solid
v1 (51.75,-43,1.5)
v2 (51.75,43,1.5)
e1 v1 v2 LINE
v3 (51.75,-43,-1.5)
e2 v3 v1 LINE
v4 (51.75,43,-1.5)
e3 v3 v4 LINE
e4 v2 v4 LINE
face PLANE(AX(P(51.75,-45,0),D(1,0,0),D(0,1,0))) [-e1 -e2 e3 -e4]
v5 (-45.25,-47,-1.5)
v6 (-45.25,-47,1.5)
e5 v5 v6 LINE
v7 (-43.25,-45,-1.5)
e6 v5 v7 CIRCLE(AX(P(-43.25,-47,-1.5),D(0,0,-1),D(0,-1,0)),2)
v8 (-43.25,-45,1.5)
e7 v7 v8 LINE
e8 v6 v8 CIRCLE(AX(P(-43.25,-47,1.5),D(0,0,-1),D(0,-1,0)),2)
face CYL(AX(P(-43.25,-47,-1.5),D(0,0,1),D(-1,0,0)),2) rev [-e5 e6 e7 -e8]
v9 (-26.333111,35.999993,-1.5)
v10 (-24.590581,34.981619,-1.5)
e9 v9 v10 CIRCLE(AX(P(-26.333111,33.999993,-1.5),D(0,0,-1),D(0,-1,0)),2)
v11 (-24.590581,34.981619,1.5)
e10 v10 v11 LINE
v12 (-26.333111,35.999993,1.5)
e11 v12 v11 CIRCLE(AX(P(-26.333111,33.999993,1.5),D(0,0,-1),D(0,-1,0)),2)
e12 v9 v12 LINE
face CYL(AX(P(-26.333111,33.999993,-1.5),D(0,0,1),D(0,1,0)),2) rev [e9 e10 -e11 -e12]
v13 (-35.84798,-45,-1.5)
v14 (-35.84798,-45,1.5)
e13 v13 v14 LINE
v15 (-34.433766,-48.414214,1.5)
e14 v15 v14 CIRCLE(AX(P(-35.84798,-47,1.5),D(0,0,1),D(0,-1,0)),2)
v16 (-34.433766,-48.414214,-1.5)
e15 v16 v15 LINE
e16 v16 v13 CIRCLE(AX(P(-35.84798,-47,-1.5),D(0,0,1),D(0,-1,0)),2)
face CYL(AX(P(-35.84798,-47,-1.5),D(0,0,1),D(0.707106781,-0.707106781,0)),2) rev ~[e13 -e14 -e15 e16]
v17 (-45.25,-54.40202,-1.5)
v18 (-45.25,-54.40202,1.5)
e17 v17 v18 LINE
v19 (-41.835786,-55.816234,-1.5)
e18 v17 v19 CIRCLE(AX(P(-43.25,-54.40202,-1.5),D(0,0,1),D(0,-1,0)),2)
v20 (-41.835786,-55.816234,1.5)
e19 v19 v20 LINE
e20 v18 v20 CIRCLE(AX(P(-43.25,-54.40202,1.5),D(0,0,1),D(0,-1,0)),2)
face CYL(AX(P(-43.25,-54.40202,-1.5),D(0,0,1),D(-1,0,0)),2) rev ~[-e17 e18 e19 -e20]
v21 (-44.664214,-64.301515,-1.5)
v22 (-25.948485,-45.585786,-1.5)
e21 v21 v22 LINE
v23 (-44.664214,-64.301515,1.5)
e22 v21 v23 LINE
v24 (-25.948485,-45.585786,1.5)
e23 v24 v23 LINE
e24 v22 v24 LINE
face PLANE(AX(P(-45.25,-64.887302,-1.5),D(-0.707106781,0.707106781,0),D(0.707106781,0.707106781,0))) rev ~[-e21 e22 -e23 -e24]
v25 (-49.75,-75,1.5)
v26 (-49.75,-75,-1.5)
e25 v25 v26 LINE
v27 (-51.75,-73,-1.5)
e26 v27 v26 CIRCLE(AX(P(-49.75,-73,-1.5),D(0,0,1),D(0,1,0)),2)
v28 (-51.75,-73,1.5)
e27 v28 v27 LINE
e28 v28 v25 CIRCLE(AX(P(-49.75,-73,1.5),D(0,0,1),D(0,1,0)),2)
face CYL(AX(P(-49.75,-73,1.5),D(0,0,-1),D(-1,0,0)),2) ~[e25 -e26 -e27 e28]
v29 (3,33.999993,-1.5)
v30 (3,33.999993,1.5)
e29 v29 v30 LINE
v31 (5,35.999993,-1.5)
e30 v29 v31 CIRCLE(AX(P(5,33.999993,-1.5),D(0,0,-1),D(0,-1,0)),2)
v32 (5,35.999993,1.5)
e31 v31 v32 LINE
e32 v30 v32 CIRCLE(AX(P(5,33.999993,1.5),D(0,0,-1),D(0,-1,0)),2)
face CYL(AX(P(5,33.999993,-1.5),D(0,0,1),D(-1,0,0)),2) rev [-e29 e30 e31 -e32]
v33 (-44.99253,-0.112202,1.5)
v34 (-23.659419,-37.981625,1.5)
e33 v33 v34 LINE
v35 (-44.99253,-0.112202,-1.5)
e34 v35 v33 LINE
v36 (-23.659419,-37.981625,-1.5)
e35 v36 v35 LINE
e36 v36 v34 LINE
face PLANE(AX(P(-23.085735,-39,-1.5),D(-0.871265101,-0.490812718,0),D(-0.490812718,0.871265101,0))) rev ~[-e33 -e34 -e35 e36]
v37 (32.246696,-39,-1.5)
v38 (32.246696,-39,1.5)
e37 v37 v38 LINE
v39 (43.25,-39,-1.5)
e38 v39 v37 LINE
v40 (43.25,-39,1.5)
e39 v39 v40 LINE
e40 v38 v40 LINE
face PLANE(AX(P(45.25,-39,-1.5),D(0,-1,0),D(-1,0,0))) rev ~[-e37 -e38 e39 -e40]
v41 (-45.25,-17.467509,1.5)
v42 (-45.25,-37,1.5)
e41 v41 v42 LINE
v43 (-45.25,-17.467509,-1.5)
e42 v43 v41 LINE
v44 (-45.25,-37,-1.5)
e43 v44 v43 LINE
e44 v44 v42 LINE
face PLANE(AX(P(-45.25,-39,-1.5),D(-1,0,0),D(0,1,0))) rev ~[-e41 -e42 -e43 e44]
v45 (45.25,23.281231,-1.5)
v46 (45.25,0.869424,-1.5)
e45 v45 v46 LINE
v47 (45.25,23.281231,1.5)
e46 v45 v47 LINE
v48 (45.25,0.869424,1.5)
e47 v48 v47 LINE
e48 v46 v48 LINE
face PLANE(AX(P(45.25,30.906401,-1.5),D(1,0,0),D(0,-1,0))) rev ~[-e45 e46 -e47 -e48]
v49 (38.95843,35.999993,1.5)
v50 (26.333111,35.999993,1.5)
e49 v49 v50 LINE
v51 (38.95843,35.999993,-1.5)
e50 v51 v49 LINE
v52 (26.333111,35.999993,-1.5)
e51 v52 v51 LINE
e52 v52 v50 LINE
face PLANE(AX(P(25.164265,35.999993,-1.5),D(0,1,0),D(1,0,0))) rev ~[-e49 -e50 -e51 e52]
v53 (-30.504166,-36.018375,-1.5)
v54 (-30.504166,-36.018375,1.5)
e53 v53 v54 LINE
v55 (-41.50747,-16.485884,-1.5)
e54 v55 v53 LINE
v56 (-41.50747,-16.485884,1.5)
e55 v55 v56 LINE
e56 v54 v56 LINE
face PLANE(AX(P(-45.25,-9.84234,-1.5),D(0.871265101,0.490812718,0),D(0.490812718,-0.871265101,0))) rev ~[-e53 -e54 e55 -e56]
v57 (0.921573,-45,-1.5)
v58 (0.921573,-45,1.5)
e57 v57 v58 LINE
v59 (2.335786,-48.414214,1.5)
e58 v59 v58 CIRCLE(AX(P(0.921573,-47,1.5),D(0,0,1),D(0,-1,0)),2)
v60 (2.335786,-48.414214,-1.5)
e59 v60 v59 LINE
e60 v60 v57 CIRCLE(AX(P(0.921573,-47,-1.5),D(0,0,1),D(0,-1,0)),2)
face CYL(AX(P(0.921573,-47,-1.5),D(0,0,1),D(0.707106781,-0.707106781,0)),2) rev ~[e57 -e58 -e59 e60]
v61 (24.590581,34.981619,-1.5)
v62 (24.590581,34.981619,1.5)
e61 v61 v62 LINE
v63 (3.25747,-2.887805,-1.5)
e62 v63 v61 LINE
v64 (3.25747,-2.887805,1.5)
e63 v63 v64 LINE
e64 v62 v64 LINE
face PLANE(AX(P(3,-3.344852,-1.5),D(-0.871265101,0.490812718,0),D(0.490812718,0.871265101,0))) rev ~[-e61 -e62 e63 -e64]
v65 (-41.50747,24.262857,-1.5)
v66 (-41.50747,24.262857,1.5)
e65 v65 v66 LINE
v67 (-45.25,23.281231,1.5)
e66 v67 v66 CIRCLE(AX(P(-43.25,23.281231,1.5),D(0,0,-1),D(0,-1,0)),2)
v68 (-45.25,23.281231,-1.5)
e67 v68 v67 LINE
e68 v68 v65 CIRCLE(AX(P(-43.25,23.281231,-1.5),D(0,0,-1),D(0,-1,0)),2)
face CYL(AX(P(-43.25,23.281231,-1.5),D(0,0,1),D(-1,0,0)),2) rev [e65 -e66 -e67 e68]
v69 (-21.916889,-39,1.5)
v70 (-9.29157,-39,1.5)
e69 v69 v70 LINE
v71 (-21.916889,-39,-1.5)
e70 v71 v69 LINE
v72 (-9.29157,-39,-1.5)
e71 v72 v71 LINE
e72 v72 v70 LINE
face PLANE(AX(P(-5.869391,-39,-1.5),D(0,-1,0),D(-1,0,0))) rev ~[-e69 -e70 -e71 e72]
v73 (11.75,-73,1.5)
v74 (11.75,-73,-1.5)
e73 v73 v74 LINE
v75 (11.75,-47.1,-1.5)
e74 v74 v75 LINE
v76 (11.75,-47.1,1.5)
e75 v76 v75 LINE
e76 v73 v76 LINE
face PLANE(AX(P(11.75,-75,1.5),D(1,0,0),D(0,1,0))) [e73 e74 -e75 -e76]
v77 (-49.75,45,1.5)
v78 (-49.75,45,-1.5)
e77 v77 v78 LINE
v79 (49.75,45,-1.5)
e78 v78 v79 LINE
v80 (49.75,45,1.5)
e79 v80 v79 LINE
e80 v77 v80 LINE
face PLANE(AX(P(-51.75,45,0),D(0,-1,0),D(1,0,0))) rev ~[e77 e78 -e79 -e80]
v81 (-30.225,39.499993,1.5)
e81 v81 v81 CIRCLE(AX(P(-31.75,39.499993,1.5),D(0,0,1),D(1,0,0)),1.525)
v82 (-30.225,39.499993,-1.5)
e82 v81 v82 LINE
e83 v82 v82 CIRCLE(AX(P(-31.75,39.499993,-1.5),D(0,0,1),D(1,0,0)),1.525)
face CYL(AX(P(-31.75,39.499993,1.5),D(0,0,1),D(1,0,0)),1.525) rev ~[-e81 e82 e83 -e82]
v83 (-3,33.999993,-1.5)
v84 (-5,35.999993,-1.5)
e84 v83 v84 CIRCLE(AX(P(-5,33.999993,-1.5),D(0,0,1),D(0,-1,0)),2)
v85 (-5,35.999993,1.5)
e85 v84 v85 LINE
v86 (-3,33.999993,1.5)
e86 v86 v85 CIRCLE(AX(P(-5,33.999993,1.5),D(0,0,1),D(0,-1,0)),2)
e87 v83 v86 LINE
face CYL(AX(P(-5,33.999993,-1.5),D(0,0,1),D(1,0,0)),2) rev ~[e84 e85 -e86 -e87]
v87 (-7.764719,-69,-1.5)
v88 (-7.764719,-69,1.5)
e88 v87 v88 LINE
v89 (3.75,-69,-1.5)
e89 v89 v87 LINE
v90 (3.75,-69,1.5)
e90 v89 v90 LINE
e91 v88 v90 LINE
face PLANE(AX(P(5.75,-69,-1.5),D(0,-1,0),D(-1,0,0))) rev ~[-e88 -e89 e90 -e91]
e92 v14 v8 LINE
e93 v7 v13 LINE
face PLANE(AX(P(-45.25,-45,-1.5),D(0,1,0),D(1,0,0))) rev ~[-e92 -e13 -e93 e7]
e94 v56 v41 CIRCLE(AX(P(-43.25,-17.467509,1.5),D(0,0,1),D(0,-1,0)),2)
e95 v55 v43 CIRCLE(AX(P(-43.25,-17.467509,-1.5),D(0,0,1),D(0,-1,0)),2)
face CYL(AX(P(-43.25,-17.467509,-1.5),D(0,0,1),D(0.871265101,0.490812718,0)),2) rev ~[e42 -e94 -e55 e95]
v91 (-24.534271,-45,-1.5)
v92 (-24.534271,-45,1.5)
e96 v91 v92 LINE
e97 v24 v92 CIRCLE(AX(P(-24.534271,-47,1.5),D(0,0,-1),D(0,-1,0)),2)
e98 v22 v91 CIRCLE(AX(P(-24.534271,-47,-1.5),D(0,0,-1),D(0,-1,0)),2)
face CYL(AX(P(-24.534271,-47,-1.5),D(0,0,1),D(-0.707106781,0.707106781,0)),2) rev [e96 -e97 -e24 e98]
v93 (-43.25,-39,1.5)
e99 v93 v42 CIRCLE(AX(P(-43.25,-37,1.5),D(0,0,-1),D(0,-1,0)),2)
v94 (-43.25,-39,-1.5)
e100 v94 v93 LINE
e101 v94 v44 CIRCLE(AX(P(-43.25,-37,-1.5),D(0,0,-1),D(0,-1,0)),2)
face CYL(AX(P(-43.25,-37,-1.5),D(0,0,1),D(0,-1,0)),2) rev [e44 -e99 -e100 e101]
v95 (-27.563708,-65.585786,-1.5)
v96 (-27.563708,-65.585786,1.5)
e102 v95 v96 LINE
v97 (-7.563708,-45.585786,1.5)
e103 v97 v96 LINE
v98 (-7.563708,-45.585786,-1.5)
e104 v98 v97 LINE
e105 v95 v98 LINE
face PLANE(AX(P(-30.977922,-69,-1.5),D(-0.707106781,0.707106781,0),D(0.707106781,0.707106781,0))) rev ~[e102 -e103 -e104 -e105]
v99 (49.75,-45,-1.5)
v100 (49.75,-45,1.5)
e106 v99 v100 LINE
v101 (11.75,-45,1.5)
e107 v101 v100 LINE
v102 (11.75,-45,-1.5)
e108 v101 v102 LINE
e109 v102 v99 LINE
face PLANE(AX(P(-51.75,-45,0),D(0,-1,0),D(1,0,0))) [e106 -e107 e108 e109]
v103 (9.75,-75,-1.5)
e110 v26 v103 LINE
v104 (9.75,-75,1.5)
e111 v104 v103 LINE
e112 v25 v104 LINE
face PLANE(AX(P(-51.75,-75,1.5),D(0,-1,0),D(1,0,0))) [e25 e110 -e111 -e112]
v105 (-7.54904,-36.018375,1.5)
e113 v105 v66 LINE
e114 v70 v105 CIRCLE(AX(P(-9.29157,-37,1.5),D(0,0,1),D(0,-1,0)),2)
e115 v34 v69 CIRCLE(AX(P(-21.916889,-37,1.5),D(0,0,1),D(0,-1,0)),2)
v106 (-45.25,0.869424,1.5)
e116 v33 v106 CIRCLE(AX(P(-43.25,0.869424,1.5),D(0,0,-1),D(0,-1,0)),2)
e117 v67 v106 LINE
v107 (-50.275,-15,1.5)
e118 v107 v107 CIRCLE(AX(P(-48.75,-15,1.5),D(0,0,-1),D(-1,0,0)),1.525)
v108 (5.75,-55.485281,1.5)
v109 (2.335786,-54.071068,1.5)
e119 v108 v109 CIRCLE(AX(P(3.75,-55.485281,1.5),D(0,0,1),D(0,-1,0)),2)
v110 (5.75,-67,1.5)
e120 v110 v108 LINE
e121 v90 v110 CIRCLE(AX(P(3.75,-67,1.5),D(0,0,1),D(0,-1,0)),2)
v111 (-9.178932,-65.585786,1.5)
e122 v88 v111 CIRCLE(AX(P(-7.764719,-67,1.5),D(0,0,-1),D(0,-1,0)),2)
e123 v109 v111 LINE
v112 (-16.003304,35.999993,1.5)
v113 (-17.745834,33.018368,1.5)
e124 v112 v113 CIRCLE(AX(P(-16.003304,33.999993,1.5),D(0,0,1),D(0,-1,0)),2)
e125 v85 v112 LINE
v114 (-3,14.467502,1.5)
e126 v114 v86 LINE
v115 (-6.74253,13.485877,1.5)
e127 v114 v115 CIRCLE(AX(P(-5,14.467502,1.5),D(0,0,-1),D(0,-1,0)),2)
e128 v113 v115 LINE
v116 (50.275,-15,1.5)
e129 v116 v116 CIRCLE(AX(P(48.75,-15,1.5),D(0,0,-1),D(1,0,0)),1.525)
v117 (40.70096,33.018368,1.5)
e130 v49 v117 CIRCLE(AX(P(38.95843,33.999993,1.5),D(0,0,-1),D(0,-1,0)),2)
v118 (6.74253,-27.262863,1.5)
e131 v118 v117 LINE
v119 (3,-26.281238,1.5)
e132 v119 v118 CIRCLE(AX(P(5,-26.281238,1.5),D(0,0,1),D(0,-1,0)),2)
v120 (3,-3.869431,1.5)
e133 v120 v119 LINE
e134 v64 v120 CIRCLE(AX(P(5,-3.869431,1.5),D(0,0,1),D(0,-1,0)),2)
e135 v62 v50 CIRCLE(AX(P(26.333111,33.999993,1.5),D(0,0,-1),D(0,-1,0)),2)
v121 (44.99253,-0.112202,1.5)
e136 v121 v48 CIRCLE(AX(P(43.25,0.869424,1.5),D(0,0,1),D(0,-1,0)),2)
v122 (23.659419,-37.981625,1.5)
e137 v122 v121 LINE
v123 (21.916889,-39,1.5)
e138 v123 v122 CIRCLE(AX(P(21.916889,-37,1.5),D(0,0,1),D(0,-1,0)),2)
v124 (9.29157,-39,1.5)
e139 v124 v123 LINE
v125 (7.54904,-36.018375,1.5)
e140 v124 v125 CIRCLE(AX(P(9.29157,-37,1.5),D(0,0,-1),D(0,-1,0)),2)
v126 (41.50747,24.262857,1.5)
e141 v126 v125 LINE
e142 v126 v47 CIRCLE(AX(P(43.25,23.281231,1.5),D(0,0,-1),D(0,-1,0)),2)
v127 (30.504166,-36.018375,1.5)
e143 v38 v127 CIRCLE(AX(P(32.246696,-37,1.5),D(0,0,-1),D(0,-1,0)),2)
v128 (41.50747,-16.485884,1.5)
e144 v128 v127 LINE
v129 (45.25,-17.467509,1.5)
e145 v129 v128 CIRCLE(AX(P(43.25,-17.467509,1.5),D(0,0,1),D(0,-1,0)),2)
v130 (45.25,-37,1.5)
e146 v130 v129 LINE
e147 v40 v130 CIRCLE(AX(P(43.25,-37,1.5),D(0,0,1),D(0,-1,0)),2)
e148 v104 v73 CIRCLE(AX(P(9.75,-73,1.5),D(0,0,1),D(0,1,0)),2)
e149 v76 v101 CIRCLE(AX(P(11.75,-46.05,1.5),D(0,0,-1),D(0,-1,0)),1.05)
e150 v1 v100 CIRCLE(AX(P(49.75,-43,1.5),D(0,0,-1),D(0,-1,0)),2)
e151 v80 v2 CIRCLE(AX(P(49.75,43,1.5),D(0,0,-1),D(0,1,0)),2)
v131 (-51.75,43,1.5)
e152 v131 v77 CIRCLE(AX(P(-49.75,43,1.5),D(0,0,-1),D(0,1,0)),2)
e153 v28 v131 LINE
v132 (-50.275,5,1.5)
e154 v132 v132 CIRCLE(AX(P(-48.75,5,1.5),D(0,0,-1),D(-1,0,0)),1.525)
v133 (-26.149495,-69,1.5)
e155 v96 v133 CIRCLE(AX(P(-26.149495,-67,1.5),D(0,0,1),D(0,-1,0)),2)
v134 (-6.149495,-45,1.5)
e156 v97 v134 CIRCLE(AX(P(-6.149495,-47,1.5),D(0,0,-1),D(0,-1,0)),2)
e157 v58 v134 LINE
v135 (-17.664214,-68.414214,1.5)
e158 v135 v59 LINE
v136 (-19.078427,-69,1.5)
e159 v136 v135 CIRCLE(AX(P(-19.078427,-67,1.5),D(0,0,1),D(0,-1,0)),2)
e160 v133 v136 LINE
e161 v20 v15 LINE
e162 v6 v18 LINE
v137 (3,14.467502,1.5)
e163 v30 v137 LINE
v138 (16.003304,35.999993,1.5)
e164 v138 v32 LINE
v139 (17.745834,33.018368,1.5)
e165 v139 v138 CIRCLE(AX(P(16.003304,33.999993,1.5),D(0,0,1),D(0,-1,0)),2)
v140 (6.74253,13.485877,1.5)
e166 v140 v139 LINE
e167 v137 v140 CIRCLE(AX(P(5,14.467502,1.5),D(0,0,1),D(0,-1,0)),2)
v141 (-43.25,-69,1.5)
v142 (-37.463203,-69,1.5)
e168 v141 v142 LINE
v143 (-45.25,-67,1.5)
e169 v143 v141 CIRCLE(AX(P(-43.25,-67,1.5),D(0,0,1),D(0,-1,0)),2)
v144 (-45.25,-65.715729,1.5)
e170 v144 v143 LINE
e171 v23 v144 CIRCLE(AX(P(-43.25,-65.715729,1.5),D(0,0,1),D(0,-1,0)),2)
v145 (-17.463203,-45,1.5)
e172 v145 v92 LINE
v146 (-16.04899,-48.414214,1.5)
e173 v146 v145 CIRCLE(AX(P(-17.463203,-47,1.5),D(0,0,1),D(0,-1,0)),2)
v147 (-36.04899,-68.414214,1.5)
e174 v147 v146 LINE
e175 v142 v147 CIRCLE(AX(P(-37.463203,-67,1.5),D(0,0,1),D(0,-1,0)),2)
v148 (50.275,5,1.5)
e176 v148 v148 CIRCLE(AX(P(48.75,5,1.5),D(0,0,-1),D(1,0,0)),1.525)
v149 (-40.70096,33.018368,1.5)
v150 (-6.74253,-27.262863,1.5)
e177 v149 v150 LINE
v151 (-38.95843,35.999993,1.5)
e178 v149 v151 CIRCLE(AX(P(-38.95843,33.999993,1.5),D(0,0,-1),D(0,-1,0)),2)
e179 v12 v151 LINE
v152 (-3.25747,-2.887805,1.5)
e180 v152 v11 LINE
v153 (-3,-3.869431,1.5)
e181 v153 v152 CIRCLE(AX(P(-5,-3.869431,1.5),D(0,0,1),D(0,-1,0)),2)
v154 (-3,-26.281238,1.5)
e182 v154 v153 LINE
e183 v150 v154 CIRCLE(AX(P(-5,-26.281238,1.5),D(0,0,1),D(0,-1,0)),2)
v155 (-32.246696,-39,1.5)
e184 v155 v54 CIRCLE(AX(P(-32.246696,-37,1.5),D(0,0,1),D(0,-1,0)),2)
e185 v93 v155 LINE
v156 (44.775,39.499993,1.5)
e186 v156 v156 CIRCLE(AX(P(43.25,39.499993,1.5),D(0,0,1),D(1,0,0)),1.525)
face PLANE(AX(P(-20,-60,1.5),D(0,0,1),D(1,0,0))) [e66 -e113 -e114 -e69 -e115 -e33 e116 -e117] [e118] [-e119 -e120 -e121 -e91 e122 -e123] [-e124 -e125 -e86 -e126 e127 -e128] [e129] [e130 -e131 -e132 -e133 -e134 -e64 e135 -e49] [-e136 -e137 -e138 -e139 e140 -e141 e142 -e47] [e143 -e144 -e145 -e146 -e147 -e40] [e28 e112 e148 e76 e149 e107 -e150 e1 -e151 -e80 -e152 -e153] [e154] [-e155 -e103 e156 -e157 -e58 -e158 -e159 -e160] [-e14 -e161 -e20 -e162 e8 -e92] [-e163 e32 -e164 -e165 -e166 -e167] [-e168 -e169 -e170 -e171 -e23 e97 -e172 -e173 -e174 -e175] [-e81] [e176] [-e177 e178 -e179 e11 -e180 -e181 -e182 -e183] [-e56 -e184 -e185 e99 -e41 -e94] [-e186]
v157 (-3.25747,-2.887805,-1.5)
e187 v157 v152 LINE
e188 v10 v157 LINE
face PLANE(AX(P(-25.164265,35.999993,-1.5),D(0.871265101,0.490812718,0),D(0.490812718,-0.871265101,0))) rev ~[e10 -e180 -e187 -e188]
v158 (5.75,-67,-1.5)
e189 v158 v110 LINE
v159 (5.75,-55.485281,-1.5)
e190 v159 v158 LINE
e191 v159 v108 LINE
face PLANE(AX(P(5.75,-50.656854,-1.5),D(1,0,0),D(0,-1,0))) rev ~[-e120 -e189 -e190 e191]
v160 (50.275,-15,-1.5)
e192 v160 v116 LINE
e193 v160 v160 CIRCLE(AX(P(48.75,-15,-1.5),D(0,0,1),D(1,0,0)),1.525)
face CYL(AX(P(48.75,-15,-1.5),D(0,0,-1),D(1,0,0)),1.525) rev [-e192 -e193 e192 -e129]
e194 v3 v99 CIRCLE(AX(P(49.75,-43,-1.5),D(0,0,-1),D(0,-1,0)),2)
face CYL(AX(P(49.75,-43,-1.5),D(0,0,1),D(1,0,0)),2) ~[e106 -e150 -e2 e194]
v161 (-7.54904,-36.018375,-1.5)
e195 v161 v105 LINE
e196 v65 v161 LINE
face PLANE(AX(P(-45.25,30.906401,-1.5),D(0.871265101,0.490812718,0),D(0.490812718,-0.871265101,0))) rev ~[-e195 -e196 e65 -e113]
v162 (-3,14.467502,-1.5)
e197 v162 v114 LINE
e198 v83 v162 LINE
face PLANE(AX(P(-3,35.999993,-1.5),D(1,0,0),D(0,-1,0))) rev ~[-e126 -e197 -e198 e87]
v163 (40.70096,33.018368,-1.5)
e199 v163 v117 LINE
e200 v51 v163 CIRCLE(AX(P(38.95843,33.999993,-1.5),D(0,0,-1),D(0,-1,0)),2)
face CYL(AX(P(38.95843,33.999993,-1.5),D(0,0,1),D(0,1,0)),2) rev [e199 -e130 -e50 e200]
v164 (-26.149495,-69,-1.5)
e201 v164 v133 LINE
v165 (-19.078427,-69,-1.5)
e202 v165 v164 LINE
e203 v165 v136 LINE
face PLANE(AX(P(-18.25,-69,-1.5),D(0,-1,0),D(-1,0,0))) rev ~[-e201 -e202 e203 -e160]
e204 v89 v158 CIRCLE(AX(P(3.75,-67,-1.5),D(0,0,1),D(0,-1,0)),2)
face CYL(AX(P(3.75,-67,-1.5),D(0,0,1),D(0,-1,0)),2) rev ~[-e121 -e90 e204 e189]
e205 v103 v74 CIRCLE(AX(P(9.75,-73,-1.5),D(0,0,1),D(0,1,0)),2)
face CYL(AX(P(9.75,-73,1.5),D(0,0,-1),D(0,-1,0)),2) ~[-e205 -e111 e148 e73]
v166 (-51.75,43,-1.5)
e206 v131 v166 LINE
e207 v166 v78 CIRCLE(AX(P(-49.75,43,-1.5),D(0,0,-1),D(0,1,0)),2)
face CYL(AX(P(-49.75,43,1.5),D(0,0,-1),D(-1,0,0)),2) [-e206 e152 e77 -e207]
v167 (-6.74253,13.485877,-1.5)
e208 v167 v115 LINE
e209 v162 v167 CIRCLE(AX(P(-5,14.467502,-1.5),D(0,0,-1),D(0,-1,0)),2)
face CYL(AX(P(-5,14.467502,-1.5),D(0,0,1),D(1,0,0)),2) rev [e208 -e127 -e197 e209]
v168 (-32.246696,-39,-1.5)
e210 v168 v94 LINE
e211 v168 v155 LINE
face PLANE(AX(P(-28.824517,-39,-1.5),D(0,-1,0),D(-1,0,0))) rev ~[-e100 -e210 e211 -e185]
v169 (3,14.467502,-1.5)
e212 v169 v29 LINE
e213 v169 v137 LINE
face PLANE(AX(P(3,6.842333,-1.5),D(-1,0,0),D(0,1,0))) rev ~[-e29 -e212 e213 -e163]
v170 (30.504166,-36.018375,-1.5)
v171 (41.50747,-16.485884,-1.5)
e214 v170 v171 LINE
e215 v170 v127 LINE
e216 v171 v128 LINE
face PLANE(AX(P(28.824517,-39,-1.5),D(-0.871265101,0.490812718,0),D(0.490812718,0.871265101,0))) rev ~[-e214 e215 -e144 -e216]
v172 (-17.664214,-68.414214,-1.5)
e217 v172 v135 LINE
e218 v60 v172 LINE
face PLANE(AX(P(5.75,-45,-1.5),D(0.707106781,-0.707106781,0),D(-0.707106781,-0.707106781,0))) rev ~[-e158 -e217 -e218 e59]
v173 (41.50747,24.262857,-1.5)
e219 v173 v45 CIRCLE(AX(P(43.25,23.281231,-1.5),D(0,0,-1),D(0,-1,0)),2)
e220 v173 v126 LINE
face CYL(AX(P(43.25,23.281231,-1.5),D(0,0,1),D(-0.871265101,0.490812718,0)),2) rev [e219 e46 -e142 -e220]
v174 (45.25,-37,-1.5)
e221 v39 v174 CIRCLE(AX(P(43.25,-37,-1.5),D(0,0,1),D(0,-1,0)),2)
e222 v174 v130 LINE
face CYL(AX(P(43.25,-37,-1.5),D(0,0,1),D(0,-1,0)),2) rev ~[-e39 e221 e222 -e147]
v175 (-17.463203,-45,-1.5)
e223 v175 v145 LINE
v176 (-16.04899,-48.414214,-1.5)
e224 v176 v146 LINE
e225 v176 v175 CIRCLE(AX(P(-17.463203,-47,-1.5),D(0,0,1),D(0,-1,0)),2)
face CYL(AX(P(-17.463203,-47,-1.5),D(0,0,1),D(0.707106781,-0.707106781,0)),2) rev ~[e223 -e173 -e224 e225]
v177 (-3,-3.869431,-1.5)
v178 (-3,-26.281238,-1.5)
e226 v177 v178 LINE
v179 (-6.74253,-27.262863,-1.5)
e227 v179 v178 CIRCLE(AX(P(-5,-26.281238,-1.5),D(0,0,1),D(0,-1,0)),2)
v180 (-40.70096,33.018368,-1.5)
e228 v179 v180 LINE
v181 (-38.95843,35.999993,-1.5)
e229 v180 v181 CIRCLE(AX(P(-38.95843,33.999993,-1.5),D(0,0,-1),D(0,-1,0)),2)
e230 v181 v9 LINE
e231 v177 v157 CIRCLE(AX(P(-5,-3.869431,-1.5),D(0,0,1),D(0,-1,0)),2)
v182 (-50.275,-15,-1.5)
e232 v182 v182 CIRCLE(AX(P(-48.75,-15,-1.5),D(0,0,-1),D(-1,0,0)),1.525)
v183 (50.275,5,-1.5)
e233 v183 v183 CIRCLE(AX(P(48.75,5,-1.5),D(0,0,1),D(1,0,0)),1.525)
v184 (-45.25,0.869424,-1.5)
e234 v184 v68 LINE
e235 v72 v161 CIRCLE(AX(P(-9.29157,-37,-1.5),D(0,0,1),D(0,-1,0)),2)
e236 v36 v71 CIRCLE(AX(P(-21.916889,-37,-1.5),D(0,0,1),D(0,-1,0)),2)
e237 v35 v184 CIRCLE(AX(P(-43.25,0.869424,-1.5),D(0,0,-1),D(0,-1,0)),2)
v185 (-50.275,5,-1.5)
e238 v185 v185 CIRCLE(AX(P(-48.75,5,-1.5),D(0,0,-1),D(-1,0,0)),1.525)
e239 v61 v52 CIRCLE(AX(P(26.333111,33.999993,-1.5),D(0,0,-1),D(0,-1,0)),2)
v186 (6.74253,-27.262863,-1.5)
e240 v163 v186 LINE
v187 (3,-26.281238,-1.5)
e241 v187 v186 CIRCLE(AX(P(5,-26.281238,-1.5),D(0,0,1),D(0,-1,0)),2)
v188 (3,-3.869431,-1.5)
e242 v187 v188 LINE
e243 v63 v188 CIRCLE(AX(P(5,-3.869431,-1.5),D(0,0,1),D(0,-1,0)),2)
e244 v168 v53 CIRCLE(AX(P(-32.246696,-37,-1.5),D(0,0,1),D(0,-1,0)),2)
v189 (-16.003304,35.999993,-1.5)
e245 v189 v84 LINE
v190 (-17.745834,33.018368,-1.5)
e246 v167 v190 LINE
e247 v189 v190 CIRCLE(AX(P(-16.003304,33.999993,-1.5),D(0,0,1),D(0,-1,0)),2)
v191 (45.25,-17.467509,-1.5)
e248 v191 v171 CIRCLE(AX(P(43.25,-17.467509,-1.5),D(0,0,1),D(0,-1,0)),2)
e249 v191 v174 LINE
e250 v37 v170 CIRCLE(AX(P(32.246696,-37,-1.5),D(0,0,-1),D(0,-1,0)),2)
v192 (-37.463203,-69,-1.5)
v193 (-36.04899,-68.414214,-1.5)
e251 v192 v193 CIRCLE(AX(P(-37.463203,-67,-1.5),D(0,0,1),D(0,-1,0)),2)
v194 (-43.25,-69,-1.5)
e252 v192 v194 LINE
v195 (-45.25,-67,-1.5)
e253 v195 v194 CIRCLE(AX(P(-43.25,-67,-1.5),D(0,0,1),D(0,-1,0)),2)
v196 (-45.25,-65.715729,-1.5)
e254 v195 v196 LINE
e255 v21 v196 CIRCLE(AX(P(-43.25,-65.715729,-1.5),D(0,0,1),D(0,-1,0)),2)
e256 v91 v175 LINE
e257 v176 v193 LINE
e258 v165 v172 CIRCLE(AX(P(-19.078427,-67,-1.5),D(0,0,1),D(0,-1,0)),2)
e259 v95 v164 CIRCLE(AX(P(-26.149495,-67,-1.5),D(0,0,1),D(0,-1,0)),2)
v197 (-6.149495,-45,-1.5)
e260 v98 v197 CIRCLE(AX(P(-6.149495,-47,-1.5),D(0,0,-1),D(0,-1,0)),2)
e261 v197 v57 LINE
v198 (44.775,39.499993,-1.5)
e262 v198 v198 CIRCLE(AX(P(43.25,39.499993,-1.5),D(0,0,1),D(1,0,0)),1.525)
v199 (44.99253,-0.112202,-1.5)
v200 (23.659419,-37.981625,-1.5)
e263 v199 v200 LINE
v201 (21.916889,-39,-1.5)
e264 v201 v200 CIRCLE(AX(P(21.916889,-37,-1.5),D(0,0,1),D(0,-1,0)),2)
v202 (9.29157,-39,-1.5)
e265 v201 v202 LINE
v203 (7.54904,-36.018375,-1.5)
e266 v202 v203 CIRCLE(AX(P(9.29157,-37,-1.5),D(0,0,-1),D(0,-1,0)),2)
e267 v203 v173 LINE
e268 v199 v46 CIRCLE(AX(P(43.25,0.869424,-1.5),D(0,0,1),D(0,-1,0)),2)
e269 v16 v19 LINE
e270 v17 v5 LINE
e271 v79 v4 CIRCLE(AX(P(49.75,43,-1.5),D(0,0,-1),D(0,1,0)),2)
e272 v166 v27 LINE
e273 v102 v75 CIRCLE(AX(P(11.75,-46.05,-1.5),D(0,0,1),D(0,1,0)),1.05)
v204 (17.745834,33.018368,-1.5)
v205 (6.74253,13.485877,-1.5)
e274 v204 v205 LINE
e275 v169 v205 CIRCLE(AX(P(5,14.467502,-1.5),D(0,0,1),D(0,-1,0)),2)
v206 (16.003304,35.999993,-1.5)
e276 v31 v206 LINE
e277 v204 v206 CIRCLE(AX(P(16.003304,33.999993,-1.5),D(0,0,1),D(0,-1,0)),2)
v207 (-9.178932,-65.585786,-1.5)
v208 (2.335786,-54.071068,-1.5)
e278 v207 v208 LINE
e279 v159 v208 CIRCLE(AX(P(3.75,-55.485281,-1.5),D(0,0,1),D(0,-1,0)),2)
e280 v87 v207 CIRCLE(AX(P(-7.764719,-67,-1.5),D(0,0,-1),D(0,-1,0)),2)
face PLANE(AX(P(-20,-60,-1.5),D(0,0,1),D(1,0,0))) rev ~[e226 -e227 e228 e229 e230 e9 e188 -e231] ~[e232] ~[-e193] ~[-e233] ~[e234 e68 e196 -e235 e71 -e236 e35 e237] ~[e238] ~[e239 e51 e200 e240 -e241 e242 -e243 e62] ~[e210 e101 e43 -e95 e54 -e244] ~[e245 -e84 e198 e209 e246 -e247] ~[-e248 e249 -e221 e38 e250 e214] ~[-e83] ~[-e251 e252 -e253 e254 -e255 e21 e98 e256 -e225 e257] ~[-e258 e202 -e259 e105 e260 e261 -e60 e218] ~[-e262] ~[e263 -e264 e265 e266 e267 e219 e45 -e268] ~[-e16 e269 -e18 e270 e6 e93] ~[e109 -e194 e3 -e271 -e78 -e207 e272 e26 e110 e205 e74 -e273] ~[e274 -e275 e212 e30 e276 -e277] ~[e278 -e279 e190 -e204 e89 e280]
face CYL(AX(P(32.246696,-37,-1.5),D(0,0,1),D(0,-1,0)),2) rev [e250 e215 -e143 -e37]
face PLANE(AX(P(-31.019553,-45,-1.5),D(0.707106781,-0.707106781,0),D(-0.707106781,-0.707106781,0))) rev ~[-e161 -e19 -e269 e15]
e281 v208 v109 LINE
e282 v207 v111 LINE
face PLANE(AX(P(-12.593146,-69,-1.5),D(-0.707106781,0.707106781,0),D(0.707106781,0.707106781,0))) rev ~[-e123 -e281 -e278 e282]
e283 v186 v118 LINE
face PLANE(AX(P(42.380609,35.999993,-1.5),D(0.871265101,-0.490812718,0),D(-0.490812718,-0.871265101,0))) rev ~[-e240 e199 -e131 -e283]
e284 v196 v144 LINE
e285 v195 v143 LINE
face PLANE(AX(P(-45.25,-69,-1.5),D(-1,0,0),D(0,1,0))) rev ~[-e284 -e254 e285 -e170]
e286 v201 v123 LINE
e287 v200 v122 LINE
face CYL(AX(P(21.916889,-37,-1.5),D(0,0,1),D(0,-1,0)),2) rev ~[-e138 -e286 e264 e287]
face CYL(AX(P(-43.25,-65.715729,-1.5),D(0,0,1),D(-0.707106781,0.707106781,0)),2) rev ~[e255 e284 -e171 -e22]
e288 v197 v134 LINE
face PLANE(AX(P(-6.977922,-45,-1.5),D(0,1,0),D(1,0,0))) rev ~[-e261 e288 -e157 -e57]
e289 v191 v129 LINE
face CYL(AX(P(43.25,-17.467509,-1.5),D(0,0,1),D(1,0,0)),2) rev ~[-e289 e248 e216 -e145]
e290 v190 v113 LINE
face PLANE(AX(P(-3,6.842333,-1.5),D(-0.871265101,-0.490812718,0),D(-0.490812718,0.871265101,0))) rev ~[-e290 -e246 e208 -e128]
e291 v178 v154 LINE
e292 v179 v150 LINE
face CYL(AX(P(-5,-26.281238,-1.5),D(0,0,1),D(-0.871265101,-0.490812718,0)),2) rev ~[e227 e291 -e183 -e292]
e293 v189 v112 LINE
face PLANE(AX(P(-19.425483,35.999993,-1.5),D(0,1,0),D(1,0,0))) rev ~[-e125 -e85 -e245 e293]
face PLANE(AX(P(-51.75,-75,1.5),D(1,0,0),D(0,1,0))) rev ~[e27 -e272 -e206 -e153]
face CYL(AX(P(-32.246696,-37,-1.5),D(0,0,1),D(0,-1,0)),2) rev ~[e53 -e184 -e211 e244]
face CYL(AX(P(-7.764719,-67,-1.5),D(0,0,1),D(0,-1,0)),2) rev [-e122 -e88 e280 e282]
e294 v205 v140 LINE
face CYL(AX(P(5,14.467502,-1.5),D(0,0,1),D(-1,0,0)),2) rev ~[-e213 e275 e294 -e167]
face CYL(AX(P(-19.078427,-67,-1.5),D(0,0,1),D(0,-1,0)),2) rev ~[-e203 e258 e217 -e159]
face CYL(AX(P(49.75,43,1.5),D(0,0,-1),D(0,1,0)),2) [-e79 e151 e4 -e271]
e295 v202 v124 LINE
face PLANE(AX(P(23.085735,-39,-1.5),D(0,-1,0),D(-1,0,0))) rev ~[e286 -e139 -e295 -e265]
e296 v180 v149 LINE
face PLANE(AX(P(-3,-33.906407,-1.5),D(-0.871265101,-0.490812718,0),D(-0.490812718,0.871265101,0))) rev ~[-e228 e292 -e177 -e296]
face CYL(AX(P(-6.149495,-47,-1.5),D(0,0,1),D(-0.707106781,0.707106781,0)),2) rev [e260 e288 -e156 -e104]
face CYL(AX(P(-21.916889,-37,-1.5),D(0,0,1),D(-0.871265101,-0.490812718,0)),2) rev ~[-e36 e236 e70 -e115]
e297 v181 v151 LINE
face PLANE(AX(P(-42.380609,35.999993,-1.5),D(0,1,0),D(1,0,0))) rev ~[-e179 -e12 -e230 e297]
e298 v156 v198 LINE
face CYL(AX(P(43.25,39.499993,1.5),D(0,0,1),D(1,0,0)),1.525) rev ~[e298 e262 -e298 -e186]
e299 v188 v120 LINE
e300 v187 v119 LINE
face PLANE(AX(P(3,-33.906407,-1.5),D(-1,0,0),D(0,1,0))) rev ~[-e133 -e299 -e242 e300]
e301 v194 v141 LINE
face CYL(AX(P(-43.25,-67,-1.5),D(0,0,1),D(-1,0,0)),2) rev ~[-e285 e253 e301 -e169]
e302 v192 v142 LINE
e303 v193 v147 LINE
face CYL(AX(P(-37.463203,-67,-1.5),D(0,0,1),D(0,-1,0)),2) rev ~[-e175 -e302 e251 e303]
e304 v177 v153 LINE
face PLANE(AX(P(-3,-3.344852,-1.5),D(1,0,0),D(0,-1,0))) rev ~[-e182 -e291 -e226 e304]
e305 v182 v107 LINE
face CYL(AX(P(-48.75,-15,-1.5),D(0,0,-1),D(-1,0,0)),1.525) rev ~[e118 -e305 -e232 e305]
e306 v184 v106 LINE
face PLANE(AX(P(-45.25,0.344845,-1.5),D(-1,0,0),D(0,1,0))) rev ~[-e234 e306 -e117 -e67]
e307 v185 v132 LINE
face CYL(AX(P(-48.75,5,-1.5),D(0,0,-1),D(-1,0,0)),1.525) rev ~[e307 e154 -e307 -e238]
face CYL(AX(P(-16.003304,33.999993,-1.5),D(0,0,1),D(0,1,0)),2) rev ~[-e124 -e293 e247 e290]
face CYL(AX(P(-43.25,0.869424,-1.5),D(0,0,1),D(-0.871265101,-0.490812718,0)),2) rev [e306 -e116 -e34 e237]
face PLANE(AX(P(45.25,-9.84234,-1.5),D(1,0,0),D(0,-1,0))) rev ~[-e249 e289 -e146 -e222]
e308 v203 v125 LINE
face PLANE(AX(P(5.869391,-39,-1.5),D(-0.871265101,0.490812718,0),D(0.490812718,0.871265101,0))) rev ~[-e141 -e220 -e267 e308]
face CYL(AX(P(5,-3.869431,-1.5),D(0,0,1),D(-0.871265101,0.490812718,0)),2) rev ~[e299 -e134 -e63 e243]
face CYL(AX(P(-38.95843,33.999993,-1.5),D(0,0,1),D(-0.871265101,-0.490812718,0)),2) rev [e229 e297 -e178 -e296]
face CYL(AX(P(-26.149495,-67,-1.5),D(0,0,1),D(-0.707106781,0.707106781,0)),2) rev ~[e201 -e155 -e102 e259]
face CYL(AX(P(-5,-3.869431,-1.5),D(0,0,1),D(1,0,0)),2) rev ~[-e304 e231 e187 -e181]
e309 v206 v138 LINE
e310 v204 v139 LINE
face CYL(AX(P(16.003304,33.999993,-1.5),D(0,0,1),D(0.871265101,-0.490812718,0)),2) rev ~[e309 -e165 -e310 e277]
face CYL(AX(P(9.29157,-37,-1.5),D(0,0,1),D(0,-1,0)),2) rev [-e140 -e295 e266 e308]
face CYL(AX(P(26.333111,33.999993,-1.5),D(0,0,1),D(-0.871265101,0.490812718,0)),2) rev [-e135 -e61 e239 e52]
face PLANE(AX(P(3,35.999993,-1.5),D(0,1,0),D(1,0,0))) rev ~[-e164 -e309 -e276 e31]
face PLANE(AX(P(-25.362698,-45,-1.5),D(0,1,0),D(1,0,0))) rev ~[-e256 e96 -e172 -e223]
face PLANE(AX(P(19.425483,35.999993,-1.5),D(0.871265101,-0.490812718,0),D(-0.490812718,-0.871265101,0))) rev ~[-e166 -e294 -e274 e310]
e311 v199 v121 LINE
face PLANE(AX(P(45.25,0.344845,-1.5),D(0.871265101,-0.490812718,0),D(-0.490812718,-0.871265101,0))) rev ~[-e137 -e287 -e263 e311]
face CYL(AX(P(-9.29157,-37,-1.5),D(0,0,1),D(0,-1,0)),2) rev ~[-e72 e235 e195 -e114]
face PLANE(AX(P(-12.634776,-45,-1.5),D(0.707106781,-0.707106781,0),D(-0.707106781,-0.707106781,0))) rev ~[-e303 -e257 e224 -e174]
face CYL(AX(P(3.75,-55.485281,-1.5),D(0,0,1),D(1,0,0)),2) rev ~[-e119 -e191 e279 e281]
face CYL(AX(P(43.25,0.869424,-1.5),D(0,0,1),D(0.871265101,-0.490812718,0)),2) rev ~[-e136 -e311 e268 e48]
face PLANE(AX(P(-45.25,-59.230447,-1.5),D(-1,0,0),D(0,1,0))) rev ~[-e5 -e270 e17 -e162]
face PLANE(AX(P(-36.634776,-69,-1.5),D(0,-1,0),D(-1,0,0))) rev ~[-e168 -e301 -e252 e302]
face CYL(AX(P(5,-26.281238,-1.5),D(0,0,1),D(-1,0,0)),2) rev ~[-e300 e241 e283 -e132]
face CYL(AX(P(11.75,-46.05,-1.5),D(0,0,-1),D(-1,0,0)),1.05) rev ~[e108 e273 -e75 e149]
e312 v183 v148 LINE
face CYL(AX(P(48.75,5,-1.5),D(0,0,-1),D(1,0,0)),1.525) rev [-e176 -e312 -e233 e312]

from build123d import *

# Parameters (mm, degrees)
SKETCH_1_W          = 103.5
SKETCH_1_H          = 90
EXTRUDE_1_DEPTH     = 1.5
SKETCH_2_W          = 63.5
SKETCH_2_H          = 30
EXTRUDE_2_DEPTH     = 3
SKETCH_3_R          = 1.05
CUT_EXTRUDE_1_DEPTH = 3
SKETCH_4_R          = 1.525
CUT_EXTRUDE_2_DEPTH = 10
SKETCH_5_R          = 1.525
CUT_EXTRUDE_3_DEPTH = 10
FILLET_1_R          = 2
CUT_EXTRUDE_4_DEPTH = 10
CUT_EXTRUDE_5_DEPTH = 10
FILLET_2_R          = 2


with BuildPart() as part:
    # 草图1 → 凸台-拉伸1 (new, symmetric)
    with BuildSketch(Plane.XY):
        Rectangle(SKETCH_1_W, SKETCH_1_H)
    extrude(amount=EXTRUDE_1_DEPTH, both=True)

    # 草图2 → 凸台-拉伸2 (add)
    with BuildSketch(Plane.XY.offset(1.5)):
        with Locations((-20, -60)):
            Rectangle(SKETCH_2_W, SKETCH_2_H)
    extrude(amount=-EXTRUDE_2_DEPTH)

    # 草图3 → 切除-拉伸1 (cut)
    with BuildSketch(Plane(origin=(0, 0, -1.5), x_dir=(-1, 0, 0), z_dir=(0, 0, -1))):
        with Locations((-11.75, -46.05)):
            Circle(SKETCH_3_R)
    extrude(amount=-CUT_EXTRUDE_1_DEPTH, mode=Mode.SUBTRACT)

    # 草图4 → 切除-拉伸2 (cut)
    with BuildSketch(Plane.XY.offset(1.5)):
        with Locations((-31.749999997, 39.499993227)):
            Circle(SKETCH_4_R)
        with Locations((43.25, 39.499993227)):
            Circle(SKETCH_4_R)
    extrude(amount=-CUT_EXTRUDE_2_DEPTH, mode=Mode.SUBTRACT)

    # 草图5 → 切除-拉伸3 (cut)
    with BuildSketch(Plane(origin=(0, 0, -1.5), x_dir=(-1, 0, 0), z_dir=(0, 0, -1))):
        with Locations((48.75, -15)):
            Circle(SKETCH_5_R)
        with Locations((48.75, 5)):
            Circle(SKETCH_5_R)
    cut_extrude_3 = extrude(amount=-CUT_EXTRUDE_3_DEPTH, mode=Mode.SUBTRACT)

    # 镜向1: 切除-拉伸3 across plane
    add(cut_extrude_3.mirror(Plane(origin=(0, 0, 0), x_dir=(0, 0, 1), z_dir=(1, 0, 0))), mode=Mode.SUBTRACT)

    # 圆角1
    fillet_1_edges = [part.edges().sort_by_distance(p)[0] for p in [
        (11.75, -75, 0),
        (-51.75, -75, 0),
        (51.75, -45, 0),
        (-51.75, 45, 0),
        (51.75, 45, 0),
    ]]
    fillet(fillet_1_edges, radius=FILLET_1_R)

    # 草图6 → 切除-拉伸4 (cut)
    with BuildSketch(Plane(origin=(0, 0, -1.5), x_dir=(-1, 0, 0), z_dir=(0, 0, -1))):
        Polygon((-28.82451653, -39), (-45.25, -9.842339669), (-45.25, -39), align=None)
        Polygon((-5.869390726, -39), (-45.25, 30.906400683), (-45.25, 0.344845419), (-23.085735079, -39), align=None)
        Polygon((-25.164264921, 35.999993227), (-42.380609274, 35.999993227), (-3, -33.906407456), (-3, -3.344852192), align=None)
        Polygon((-3, 35.999993227), (-19.42548347, 35.999993227), (-3, 6.842332896), align=None)
        Polygon((3, 6.842332896), (19.42548347, 35.999993227), (3, 35.999993227), align=None)
        Polygon((42.380609274, 35.999993227), (25.164264921, 35.999993227), (3, -3.344852192), (3, -33.906407456), align=None)
        Polygon((45.25, 0.344845419), (45.25, 30.906400683), (5.869390726, -39), (23.085735079, -39), align=None)
        Polygon((45.25, -39), (45.25, -9.842339669), (28.82451653, -39), align=None)
    extrude(amount=-CUT_EXTRUDE_4_DEPTH, mode=Mode.SUBTRACT)

    # 草图7 → 切除-拉伸5 (cut)
    with BuildSketch(Plane(origin=(0, 0, -1.5), x_dir=(-1, 0, 0), z_dir=(0, 0, -1))):
        Polygon((12.593145751, -69), (-5.75, -50.656854249), (-5.75, -69), align=None)
        Polygon((6.977922061, -45), (-5.75, -45), (18.25, -69), (30.977922061, -69), align=None)
        Polygon((25.362698372, -45), (12.634776311, -45), (36.634776311, -69), (45.25, -69), (45.25, -64.887301628), align=None)
        Polygon((45.25, -45), (31.019552622, -45), (45.25, -59.230447378), align=None)
    extrude(amount=-CUT_EXTRUDE_5_DEPTH, mode=Mode.SUBTRACT)

    # 圆角2
    fillet_2_edges = [part.edges().sort_by_distance(p)[0] for p in [
        (-3, 6.842332896, 0),
        (-3, 35.999993227, 0),
        (-19.42548347, 35.999993227, 0),
        (19.42548347, 35.999993227, 0),
        (3, 35.999993227, 0),
        (3, 6.842332896, 0),
        (45.25, 0.344845419, 0),
        (45.25, 30.906400683, 0),
        (5.869390726, -39, 0),
        (23.085735079, -39, 0),
        (25.164264921, 35.999993227, 0),
        (3, -3.344852192, 0),
        (3, -33.906407456, 0),
        (42.380609274, 35.999993227, 0),
        (-45.25, -9.842339669, 0),
        (-45.25, -39, 0),
        (-28.82451653, -39, 0),
        (-3, -33.906407456, 0),
        (-3, -3.344852192, 0),
        (-25.164264921, 35.999993227, 0),
        (-42.380609274, 35.999993227, 0),
        (-45.25, 30.906400683, 0),
        (-45.25, 0.344845419, 0),
        (-23.085735079, -39, 0),
        (-5.869390726, -39, 0),
        (45.25, -9.842339669, 0),
        (28.82451653, -39, 0),
        (45.25, -39, 0),
        (-25.362698372, -45, 0),
        (-45.25, -64.887301628, 0),
        (-45.25, -69, 0),
        (-36.634776311, -69, 0),
        (-12.634776311, -45, 0),
        (-6.977922061, -45, 0),
        (-30.977922061, -69, 0),
        (-18.25, -69, 0),
        (5.75, -45, 0),
        (-31.019552622, -45, 0),
        (-45.25, -45, 0),
        (-45.25, -59.230447378, 0),
        (5.75, -50.656854249, 0),
        (-12.593145751, -69, 0),
        (5.75, -69, 0),
    ]]
    fillet(fillet_2_edges, radius=FILLET_2_R)


solid = part.part
